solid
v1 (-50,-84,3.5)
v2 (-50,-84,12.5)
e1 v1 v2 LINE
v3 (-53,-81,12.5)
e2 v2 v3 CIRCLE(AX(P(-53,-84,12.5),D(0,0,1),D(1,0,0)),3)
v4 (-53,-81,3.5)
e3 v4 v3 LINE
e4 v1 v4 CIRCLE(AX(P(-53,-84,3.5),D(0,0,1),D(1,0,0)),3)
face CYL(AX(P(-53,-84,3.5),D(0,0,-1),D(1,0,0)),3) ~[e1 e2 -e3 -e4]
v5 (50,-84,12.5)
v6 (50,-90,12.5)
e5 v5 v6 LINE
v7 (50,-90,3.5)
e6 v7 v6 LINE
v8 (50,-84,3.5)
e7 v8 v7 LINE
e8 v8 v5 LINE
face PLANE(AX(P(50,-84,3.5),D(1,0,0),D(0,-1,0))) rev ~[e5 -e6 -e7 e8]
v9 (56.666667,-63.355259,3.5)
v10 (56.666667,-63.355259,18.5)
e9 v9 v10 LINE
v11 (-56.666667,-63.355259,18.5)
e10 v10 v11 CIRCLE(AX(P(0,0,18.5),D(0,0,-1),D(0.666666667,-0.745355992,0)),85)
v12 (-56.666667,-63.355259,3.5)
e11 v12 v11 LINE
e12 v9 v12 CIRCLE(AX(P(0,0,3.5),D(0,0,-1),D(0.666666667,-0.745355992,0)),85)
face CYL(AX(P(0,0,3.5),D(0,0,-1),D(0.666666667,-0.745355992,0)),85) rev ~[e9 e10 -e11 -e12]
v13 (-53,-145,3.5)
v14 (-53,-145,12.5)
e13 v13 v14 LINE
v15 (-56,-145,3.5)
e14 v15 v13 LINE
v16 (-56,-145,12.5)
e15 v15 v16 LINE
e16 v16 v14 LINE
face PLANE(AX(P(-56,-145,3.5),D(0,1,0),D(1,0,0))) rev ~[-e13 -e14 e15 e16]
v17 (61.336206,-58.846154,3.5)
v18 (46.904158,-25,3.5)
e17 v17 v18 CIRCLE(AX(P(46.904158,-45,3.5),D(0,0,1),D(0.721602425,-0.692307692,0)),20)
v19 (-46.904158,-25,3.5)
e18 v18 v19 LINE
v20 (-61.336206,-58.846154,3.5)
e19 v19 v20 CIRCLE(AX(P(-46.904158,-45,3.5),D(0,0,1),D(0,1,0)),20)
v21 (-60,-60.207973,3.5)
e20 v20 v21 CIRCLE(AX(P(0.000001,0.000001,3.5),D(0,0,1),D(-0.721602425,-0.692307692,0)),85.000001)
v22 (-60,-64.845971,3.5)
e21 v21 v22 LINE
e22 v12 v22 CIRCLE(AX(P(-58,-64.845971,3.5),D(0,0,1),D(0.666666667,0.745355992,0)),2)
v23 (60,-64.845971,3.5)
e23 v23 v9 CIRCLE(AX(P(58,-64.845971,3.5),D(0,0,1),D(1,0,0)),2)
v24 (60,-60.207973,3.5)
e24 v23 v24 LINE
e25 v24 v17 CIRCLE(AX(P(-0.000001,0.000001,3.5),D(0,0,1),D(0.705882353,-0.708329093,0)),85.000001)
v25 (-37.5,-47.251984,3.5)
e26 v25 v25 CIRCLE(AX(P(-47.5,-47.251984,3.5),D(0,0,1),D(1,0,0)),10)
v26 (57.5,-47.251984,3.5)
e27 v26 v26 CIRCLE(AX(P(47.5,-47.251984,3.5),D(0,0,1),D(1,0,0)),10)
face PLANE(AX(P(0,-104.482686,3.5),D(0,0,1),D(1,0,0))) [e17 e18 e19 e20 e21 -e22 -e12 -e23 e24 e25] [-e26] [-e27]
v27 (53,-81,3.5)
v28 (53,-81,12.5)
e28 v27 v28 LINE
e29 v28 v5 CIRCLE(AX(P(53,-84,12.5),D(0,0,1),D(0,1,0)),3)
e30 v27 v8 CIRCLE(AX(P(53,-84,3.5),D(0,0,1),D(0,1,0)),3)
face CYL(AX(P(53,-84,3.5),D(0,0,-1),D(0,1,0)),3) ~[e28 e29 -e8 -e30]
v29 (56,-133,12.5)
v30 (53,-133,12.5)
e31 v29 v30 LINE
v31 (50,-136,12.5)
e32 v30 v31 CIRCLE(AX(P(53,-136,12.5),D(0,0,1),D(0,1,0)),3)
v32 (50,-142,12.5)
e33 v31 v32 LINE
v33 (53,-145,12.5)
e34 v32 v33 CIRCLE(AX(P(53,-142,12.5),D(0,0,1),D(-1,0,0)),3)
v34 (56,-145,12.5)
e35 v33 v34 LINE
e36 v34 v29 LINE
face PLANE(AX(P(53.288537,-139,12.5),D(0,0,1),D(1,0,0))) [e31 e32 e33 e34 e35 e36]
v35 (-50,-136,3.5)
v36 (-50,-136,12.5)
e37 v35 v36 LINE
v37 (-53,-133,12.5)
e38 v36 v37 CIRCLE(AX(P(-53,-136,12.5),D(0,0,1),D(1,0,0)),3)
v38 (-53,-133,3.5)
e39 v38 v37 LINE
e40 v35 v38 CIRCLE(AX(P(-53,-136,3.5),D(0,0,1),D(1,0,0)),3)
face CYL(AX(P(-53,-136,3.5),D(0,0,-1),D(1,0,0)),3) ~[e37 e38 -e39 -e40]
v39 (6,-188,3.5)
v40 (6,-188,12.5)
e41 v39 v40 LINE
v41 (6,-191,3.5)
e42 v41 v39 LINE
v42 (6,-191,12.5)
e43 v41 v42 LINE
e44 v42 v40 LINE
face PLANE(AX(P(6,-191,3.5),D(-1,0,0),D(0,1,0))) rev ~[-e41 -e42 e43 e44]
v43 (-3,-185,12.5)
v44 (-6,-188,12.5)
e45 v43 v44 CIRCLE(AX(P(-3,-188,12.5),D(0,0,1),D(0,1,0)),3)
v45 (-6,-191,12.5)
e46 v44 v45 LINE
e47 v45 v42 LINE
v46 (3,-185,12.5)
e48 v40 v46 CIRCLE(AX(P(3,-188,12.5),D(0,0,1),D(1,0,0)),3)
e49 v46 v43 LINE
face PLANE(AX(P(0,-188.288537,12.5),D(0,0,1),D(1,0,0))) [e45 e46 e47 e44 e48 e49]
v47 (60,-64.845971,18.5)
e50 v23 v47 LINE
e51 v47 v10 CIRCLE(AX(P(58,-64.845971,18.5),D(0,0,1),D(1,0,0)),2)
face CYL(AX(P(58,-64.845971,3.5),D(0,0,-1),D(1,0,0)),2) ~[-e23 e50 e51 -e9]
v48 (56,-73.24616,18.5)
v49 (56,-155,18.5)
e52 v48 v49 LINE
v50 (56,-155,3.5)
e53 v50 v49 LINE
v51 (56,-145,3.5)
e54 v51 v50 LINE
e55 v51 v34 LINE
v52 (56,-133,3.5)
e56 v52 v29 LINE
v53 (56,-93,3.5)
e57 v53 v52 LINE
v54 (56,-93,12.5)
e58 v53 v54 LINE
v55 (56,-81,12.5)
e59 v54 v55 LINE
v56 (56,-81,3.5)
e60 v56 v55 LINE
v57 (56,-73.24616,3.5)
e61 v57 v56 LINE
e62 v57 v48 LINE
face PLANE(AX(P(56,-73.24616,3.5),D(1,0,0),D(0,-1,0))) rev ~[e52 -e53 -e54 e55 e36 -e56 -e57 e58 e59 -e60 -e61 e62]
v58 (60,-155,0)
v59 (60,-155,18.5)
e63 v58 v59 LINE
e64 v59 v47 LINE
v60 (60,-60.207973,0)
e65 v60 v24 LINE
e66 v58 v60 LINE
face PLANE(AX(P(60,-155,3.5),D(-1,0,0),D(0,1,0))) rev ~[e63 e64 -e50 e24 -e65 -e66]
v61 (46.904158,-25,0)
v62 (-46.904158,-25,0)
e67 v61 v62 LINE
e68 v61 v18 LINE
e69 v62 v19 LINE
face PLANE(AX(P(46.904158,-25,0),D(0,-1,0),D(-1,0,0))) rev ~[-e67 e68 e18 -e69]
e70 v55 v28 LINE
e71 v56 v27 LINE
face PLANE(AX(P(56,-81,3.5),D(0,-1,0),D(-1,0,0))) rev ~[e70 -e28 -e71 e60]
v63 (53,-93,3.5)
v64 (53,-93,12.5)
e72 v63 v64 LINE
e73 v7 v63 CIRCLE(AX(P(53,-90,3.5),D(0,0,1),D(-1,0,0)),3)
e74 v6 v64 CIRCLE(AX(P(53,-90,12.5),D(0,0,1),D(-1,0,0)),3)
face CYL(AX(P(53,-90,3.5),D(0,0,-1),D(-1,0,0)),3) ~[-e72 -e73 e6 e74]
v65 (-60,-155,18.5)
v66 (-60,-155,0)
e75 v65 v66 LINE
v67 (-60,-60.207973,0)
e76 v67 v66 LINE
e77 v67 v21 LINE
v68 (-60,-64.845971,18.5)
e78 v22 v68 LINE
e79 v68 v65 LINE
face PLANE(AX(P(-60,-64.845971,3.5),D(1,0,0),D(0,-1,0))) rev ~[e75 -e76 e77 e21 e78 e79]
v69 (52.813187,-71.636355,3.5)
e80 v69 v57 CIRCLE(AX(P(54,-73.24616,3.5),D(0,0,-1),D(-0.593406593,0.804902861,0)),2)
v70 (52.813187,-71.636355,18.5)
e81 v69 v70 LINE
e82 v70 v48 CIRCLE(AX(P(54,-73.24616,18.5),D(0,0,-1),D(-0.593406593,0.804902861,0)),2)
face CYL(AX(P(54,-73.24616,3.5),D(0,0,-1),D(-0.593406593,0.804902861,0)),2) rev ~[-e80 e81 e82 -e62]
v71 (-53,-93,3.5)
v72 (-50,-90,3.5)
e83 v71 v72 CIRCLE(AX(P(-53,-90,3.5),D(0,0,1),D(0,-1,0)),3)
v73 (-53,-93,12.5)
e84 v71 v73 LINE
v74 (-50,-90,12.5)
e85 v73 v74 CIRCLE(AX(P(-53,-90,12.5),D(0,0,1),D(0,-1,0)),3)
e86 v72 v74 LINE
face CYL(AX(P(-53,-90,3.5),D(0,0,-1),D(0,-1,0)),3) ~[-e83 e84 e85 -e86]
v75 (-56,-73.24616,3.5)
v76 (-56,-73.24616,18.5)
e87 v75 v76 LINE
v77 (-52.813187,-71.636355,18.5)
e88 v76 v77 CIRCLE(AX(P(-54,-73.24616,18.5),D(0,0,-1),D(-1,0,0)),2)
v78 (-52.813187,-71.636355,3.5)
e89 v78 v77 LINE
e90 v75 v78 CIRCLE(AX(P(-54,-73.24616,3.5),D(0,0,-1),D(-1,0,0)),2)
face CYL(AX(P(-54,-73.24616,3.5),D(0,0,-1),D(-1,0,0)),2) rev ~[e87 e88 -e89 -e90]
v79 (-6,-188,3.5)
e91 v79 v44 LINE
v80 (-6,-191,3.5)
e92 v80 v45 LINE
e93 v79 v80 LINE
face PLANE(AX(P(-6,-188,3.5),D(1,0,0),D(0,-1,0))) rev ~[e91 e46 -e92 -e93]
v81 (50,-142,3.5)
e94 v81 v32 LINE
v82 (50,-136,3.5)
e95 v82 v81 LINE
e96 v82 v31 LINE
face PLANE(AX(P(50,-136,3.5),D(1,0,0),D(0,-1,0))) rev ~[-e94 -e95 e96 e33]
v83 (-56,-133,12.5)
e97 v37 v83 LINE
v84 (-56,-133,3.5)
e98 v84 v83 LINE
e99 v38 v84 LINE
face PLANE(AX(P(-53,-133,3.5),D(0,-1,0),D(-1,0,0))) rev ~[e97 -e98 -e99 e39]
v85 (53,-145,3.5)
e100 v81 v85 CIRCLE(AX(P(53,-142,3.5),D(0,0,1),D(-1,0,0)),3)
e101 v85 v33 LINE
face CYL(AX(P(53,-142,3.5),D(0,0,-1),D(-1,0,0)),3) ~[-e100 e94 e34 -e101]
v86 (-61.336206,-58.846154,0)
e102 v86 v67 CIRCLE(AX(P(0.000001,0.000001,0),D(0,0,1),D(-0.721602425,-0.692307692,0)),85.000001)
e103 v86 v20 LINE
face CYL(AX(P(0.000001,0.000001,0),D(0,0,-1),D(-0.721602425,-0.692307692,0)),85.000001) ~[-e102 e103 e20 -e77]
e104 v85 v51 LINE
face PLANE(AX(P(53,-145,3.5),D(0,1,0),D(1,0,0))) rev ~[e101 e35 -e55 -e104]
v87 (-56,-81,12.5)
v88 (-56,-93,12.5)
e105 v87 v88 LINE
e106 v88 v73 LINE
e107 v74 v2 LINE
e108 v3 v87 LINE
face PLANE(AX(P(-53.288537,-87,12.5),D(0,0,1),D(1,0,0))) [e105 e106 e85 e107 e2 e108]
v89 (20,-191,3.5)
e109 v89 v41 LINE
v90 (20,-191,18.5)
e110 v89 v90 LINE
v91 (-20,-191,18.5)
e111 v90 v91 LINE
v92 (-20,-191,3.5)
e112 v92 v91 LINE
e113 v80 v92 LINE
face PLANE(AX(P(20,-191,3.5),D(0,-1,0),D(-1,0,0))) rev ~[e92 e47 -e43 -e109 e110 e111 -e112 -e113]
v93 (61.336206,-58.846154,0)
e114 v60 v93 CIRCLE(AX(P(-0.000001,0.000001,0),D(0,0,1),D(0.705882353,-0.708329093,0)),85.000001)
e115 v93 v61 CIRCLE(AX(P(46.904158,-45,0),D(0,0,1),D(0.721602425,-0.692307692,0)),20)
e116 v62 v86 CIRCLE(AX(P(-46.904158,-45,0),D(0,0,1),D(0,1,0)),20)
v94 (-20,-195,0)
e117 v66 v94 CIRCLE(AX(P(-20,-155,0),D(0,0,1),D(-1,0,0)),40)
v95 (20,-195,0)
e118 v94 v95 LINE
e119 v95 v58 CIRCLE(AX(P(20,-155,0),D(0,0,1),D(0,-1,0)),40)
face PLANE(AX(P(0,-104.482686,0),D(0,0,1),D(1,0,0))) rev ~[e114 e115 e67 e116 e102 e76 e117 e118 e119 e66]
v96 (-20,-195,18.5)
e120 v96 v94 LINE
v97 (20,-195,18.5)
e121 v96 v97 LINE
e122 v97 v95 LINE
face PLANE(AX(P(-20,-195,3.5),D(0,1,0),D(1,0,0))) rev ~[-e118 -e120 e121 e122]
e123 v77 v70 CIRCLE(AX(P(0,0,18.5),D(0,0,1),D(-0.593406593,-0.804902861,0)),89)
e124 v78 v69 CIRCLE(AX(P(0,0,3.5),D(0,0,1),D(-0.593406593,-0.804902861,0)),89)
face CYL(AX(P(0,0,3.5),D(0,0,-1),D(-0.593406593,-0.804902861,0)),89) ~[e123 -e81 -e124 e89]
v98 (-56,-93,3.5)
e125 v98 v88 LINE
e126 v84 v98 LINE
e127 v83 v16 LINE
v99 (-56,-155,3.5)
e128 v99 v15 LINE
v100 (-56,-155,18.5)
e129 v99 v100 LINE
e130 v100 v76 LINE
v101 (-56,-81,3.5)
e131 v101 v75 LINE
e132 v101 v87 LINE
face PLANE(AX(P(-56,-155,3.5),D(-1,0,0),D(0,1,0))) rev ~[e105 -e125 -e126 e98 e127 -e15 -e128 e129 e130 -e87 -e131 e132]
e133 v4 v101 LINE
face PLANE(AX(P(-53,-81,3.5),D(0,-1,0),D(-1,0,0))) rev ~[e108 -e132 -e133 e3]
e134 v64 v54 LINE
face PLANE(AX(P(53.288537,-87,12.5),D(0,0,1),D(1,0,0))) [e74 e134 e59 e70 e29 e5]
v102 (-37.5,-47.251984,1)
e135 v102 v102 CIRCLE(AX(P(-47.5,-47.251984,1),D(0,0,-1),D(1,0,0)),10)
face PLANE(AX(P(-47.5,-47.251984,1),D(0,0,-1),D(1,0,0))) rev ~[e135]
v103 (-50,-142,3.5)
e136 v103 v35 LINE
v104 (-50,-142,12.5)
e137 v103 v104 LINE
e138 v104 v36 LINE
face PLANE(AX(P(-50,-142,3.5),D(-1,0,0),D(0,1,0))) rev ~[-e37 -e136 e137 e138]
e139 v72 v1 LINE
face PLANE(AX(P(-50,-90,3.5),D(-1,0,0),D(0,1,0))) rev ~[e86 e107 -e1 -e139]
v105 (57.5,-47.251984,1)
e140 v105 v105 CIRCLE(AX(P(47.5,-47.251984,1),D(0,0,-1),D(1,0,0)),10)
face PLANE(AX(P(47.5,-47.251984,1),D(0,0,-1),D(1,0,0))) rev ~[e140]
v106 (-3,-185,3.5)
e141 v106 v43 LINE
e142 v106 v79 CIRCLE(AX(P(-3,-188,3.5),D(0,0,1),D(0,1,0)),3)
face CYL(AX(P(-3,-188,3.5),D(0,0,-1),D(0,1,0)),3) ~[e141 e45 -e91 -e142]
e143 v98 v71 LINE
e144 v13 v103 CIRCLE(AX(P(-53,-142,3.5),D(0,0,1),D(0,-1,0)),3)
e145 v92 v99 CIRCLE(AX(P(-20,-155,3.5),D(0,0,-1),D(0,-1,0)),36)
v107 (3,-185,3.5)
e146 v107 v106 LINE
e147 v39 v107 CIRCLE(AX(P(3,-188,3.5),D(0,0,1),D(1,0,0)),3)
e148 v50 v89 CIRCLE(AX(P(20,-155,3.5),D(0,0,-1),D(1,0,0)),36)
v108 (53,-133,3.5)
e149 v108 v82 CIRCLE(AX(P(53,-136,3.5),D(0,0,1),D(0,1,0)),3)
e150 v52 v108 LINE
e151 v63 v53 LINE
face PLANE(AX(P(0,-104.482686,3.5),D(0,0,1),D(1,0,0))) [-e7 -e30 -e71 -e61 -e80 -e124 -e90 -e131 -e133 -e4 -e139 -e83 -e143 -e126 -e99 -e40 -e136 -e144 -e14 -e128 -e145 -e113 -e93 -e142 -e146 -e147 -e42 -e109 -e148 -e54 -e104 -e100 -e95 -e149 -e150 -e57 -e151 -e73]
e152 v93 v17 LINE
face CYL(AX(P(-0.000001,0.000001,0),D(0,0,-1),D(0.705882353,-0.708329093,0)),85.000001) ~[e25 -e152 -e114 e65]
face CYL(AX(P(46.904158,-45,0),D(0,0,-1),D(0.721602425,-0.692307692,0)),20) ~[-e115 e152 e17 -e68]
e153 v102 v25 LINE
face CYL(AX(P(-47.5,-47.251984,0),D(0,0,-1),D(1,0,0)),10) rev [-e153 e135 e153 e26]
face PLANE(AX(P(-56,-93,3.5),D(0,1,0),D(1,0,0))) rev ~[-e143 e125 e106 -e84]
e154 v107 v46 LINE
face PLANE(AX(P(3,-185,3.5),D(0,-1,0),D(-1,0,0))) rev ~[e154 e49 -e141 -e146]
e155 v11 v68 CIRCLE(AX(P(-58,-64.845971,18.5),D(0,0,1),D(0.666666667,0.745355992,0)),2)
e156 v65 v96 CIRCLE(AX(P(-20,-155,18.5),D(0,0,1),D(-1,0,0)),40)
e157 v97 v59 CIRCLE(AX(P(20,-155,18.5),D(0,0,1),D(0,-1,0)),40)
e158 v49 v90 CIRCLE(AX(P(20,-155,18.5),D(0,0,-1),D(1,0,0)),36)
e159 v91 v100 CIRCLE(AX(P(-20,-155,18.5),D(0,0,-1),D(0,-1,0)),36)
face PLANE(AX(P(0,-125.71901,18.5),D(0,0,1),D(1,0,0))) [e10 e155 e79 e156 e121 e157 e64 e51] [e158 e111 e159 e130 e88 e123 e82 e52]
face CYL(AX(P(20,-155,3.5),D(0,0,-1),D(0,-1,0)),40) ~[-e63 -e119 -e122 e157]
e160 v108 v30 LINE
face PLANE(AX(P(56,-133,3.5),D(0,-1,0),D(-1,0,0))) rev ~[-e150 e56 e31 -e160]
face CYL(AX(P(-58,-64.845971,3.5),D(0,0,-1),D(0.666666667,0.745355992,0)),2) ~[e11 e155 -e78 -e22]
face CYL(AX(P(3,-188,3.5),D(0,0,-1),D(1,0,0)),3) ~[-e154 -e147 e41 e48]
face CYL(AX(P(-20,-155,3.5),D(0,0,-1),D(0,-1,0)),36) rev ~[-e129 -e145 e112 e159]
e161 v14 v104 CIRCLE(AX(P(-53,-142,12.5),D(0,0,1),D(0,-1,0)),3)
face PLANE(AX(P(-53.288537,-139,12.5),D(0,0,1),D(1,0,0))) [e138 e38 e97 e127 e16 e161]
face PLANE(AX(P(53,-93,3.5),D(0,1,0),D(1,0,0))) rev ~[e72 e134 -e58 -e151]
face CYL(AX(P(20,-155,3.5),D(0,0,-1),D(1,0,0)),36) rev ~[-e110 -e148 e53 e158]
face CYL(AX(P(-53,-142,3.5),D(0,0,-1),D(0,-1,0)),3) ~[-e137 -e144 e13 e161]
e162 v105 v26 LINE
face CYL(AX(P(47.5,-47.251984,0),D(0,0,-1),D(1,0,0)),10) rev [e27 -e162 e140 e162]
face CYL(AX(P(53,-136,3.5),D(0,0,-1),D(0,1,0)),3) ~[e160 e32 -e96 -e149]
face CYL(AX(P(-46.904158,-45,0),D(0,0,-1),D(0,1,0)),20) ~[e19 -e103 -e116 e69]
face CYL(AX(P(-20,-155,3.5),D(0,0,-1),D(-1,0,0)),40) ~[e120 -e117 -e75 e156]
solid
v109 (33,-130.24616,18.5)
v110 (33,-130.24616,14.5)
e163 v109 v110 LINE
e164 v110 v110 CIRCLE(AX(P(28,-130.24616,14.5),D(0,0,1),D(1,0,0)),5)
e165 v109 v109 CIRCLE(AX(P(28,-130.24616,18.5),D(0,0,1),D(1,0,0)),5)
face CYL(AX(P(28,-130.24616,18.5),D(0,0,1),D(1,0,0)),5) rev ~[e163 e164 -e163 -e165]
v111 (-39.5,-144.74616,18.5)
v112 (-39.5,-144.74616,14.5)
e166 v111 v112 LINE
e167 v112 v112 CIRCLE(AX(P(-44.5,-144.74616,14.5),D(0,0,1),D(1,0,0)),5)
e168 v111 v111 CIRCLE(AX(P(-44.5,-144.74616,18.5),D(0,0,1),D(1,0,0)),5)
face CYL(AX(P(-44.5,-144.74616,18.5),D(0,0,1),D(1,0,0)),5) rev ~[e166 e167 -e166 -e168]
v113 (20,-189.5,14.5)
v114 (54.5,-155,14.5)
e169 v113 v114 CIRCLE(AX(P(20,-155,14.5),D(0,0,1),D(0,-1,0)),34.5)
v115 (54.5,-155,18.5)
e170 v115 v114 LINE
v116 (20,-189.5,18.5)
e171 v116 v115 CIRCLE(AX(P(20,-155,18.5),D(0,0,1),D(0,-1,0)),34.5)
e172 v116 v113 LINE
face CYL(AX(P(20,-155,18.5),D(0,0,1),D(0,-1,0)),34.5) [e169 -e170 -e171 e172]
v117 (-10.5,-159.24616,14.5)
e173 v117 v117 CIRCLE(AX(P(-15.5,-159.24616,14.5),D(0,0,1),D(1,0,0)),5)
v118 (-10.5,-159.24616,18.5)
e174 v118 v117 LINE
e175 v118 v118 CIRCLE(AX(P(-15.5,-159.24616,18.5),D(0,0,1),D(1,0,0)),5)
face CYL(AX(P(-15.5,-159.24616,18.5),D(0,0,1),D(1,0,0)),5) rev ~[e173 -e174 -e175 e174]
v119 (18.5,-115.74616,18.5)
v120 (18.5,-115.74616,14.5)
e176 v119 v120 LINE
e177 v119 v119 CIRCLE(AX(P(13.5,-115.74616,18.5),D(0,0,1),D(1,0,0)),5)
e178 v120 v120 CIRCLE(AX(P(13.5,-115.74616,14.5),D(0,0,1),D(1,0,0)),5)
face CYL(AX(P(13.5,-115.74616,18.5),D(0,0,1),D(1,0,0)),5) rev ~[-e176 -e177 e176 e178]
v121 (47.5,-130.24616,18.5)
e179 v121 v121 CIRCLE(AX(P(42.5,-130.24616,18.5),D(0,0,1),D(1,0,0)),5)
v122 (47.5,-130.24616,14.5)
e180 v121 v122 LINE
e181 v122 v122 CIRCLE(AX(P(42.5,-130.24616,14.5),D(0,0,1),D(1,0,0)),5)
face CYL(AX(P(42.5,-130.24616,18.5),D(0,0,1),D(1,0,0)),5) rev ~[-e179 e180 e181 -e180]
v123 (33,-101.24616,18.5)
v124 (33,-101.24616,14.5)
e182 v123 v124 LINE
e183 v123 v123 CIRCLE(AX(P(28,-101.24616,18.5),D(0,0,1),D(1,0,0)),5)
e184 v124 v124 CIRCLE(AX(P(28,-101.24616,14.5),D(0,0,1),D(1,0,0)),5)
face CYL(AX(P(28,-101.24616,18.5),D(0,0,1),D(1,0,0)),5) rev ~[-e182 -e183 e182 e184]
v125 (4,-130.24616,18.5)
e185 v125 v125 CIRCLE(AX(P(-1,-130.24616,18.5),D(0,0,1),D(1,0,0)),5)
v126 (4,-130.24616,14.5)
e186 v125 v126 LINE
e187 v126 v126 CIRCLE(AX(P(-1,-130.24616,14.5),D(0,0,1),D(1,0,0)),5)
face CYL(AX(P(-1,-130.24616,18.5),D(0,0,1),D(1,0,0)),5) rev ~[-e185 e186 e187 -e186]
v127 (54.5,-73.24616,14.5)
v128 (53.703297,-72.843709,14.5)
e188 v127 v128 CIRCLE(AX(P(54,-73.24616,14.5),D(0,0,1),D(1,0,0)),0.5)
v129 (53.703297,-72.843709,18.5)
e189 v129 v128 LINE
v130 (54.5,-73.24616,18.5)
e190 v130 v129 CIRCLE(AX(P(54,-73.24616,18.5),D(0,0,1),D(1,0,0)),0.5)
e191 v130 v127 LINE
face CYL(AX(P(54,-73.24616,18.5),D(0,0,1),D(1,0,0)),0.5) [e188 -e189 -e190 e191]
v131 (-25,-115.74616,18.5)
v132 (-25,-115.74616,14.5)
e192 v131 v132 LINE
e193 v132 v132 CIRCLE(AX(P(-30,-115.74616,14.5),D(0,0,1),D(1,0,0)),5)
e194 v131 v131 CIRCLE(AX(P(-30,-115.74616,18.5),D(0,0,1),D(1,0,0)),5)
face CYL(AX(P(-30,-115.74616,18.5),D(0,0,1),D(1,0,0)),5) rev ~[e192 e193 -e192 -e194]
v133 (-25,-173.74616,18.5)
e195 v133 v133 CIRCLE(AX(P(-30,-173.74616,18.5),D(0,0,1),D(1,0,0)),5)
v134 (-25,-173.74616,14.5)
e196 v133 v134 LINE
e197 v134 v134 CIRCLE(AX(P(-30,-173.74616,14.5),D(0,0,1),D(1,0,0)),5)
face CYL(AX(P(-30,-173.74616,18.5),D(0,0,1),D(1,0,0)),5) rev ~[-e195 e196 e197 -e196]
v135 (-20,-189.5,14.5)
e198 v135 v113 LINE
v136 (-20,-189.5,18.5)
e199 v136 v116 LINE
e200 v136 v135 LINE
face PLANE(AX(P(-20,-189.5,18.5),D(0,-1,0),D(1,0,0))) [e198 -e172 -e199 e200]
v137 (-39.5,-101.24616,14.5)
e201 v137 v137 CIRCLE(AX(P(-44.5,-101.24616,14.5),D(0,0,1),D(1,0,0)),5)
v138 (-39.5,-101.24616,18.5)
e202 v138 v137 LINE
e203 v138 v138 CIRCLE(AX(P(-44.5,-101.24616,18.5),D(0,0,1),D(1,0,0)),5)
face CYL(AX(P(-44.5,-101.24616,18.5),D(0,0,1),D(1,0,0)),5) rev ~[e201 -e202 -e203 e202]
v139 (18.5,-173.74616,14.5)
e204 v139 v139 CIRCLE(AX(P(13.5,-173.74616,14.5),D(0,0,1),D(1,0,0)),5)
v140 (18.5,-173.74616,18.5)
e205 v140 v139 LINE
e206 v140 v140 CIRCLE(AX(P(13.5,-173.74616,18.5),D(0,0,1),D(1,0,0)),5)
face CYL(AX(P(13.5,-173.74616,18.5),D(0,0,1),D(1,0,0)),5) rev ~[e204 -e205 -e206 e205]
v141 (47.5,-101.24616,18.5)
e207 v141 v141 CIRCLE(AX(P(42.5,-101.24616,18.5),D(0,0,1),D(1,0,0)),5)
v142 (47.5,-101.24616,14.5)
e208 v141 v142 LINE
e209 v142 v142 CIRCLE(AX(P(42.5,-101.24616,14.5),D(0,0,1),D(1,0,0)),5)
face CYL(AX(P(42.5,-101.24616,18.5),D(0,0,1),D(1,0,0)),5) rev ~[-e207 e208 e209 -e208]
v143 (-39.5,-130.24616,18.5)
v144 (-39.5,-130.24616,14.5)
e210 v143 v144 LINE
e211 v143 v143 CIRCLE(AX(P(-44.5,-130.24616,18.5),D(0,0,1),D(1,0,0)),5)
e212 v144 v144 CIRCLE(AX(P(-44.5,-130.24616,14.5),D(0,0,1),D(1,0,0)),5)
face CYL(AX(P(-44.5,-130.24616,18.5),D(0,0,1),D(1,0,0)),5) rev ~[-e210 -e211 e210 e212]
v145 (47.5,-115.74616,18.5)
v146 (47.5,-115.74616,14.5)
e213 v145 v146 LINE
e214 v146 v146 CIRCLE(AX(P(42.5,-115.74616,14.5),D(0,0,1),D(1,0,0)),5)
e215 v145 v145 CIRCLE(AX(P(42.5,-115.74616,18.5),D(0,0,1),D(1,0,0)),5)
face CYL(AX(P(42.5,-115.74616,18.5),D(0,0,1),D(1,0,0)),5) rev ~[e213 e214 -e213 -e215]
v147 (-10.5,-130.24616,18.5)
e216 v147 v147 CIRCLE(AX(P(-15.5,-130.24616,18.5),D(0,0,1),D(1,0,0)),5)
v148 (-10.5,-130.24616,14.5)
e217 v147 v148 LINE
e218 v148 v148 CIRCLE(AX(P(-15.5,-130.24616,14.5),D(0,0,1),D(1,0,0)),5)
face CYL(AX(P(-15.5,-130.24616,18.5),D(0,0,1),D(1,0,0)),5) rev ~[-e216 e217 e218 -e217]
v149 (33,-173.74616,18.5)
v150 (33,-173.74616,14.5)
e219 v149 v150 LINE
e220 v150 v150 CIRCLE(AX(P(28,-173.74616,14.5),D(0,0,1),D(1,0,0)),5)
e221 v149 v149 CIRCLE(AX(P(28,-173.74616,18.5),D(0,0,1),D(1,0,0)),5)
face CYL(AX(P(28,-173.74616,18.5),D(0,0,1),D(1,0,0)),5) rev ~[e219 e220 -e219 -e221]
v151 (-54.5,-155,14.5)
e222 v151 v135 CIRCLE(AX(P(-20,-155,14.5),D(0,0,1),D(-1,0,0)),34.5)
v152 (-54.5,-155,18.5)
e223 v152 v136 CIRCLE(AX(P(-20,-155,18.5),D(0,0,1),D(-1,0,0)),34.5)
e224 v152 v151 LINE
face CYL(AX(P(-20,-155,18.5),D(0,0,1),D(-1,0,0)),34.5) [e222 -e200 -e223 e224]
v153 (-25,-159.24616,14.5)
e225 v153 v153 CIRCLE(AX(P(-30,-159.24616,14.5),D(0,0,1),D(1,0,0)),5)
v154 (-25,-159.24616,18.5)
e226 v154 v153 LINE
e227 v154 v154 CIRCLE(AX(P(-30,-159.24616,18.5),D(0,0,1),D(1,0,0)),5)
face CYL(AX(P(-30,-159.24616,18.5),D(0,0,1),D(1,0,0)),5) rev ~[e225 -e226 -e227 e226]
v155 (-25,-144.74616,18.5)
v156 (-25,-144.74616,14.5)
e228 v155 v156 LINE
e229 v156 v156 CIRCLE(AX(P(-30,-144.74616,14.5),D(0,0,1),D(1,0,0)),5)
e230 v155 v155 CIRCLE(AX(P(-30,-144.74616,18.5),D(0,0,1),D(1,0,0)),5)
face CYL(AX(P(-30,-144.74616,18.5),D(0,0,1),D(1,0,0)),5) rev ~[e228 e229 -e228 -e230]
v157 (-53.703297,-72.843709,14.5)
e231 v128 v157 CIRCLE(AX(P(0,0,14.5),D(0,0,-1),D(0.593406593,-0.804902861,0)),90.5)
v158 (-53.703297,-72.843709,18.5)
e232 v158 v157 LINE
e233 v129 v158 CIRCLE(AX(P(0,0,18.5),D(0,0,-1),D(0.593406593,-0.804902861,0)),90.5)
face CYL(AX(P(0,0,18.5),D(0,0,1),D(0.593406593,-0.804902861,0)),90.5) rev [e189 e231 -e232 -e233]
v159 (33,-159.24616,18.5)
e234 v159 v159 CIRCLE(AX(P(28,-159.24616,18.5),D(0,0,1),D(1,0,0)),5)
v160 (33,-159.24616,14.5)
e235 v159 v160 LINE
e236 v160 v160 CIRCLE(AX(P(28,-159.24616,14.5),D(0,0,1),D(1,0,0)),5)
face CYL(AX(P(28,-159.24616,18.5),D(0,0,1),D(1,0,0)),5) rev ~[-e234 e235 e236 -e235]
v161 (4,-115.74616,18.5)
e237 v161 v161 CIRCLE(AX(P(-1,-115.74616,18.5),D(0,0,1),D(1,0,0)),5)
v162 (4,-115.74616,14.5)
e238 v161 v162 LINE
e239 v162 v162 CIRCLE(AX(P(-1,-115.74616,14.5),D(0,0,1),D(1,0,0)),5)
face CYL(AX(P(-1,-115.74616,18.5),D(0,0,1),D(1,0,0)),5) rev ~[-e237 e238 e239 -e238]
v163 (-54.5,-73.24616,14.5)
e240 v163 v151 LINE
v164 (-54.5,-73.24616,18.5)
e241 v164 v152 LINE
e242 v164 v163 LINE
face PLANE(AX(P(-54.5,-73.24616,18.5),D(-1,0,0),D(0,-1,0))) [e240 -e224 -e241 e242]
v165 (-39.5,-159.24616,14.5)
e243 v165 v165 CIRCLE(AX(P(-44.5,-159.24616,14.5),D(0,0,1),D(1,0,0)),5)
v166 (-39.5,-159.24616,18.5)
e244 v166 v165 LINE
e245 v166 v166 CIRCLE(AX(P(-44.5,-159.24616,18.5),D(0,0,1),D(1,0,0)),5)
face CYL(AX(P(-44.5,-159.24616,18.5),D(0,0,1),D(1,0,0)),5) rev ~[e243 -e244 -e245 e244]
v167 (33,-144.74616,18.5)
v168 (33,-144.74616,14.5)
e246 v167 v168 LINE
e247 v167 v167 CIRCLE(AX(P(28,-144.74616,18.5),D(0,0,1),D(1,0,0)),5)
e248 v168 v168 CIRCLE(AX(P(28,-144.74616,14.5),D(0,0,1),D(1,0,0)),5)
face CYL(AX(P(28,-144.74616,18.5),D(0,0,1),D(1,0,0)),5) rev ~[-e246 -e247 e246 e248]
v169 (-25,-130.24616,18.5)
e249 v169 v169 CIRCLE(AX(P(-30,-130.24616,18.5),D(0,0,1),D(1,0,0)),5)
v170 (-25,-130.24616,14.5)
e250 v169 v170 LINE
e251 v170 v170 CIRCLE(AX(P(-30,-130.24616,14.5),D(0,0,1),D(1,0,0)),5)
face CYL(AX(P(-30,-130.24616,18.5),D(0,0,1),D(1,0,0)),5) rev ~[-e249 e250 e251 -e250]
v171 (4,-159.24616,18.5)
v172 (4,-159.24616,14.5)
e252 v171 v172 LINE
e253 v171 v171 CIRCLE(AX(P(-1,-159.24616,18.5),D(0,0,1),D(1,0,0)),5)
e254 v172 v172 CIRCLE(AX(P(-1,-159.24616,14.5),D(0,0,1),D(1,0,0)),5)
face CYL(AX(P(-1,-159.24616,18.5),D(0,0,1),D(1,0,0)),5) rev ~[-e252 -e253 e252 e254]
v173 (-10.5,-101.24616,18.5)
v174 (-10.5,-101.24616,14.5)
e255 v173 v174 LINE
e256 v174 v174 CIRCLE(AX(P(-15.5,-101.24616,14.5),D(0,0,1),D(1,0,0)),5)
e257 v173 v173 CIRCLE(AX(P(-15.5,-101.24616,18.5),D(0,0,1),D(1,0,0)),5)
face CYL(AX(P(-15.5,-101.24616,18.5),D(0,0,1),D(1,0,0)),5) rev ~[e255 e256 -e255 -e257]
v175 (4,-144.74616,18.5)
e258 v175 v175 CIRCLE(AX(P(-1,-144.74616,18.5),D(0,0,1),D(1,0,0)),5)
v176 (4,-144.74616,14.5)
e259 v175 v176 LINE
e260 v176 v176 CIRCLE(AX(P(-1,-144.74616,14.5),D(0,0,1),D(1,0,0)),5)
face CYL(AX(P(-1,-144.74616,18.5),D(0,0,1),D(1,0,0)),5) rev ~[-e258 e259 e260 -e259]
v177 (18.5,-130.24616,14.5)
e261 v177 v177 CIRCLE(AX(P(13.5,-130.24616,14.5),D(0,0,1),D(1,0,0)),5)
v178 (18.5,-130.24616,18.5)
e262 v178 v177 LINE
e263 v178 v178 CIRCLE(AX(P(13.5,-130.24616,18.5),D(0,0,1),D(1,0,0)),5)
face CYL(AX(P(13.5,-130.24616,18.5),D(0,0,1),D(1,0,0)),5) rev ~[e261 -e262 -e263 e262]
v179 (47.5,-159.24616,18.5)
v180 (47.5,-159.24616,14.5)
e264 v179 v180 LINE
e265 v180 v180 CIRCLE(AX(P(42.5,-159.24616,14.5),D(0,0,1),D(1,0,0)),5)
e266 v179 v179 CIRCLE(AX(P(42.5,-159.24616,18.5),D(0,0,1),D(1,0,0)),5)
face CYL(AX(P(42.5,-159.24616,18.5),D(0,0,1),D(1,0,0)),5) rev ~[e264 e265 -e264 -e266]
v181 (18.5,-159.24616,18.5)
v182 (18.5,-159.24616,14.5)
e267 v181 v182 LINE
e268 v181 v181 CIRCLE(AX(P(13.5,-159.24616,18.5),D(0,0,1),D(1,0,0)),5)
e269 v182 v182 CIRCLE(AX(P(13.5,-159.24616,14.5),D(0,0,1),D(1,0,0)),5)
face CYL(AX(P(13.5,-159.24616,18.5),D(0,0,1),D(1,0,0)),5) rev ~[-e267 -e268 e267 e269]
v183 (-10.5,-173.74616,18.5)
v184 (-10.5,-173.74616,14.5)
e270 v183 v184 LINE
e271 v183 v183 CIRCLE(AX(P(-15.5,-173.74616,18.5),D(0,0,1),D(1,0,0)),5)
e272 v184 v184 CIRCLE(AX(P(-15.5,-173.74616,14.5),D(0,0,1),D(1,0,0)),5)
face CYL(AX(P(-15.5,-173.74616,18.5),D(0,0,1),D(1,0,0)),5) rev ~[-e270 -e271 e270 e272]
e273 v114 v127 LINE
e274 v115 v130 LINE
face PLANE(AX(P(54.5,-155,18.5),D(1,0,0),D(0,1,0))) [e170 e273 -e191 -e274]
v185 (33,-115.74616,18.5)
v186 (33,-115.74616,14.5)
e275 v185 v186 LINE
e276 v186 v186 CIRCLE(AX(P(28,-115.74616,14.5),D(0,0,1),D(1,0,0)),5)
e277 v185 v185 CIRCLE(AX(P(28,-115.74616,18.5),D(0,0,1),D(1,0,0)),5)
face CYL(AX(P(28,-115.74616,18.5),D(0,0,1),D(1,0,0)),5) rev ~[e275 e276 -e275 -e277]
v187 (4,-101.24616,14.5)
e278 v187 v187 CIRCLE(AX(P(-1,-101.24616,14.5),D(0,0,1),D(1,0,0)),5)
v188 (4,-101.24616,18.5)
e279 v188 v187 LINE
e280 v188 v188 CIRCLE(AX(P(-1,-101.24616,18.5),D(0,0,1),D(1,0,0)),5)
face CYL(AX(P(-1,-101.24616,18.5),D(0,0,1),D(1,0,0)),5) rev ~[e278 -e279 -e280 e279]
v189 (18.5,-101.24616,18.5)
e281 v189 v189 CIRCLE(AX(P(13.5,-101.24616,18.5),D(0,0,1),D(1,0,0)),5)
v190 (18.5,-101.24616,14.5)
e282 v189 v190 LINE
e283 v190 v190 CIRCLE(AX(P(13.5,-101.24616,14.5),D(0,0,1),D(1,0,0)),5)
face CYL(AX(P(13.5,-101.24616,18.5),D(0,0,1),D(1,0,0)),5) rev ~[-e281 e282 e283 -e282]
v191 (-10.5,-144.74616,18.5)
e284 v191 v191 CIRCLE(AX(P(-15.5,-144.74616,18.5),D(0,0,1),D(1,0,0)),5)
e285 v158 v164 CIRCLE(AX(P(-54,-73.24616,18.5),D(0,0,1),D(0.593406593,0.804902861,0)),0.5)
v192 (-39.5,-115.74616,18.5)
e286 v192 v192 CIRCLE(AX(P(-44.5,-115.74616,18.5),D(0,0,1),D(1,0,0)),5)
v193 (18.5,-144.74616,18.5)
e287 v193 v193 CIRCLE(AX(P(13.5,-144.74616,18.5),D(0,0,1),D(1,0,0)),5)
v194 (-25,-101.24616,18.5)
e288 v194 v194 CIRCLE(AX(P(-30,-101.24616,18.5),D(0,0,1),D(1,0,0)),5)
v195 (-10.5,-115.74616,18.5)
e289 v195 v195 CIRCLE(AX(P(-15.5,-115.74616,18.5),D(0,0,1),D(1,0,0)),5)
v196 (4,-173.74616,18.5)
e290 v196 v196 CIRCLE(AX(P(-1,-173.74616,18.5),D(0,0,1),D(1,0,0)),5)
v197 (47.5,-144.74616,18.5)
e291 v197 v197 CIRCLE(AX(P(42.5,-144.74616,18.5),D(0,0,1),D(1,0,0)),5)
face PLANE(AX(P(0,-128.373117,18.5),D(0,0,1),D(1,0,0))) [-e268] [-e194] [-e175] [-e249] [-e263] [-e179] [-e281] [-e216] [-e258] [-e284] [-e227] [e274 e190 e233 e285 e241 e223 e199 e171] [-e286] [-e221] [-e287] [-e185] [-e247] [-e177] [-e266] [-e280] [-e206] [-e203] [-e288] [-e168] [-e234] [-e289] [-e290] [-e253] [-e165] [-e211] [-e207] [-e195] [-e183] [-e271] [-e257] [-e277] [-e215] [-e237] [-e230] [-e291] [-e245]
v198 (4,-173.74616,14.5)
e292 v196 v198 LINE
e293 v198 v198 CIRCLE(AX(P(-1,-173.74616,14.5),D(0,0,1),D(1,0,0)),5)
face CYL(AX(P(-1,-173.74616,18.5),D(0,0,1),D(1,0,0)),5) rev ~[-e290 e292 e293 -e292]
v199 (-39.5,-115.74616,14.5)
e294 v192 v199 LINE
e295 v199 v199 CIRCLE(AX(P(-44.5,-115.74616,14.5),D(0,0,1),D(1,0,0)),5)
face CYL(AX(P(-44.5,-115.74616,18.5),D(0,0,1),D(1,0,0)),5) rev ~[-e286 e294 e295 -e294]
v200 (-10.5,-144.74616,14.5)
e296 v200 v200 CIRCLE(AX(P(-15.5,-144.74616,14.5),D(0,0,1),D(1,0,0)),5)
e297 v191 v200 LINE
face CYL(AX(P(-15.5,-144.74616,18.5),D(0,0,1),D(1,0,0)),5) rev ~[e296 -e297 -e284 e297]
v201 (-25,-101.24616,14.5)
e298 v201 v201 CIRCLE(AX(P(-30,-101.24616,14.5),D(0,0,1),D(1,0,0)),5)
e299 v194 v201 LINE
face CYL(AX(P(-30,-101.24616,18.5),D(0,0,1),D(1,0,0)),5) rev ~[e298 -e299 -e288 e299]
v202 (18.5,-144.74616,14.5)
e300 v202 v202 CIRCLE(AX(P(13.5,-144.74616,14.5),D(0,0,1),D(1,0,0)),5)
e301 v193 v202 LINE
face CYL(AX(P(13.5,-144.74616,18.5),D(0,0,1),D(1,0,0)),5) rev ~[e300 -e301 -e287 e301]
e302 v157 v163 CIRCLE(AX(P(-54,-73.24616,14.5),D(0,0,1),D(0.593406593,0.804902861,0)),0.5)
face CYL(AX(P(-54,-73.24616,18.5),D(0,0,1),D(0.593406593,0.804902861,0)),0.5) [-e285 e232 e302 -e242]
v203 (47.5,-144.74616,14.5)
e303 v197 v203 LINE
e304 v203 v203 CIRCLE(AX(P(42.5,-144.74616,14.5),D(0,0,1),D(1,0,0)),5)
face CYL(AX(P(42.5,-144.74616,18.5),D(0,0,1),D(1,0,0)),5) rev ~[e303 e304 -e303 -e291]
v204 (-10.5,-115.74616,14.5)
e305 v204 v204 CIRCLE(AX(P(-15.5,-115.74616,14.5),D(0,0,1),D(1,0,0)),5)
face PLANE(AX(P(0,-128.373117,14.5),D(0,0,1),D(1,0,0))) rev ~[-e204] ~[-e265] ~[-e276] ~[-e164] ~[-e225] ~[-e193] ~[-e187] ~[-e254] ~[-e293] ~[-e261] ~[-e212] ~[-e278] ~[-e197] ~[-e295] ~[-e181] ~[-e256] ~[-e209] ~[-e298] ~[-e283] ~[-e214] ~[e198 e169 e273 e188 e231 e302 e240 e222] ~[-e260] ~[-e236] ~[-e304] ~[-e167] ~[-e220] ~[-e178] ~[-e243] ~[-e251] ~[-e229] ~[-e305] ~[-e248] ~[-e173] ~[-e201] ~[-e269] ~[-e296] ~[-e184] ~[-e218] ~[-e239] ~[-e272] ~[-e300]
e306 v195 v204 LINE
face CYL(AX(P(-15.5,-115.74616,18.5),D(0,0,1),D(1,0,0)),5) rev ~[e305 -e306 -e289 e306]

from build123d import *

# Parameters (mm, degrees)
F0_R      = 10
F1_DEPTH  = 3.5
F2_R      = 12.5
F3_DEPTH  = 1
F5_DEPTH  = 15
F7_DEPTH  = 9
F9_DEPTH  = 4
F10_R     = 5
F11_DEPTH = 25


with BuildPart() as f1:
    # F0 (on Top) → F1 (new body)
    with BuildSketch(Plane.XY):
        with BuildLine():
            ThreePointArc((-46.9041575982, -25), (-65.3014818184, -37.1553545945), (-61.33620609, -58.8461538462))
            ThreePointArc((-61.33620609, -58.8461538462), (-60.6719240247, -59.5308124851), (-60, -60.207972894))
            Line((-60, -60.207972894), (-60, -155))
            ThreePointArc((-60, -155), (-48.2842712475, -183.2842712475), (-20, -195))
            Line((-20, -195), (20, -195))
            ThreePointArc((20, -195), (48.2842712475, -183.2842712475), (60, -155))
            Line((60, -155), (60, -60.207972894))
            ThreePointArc((60, -60.207972894), (60.6719240247, -59.5308124851), (61.33620609, -58.8461538462))
            ThreePointArc((61.33620609, -58.8461538462), (65.3014818184, -37.1553545945), (46.9041575982, -25))
            Line((46.9041575982, -25), (-46.9041575982, -25))
        make_face()
        with Locations((-47.5, -47.2519840853)):
            Circle(F0_R, mode=Mode.SUBTRACT)
        with Locations((47.5, -47.2519840853)):
            Circle(F0_R, mode=Mode.SUBTRACT)
    extrude(amount=F1_DEPTH)

    # F2 (on face) → F3 (join)
    with BuildSketch(Plane(origin=(0, 0, 0), x_dir=(1, 0, 0), z_dir=(0, 0, -1))):
        with Locations((47.5, 47.2519840853)):
            Circle(F2_R)
        with Locations((-47.5, 47.2519840853)):
            Circle(F2_R)
    extrude(amount=-F3_DEPTH)

    # F4 (on face) → F5 (join)
    with BuildSketch(Plane.XY.offset(3.5)):
        with BuildLine():
            ThreePointArc((20, -195), (48.2842712475, -183.2842712475), (60, -155))
            Line((60, -155), (60, -64.8459713475))
            ThreePointArc((60, -64.8459713475), (58.8164965809, -63.0202294891), (56.6666666667, -63.3552593625))
            ThreePointArc((56.6666666667, -63.3552593625), (0, -85), (-56.6666666667, -63.3552593625))
            ThreePointArc((-56.6666666667, -63.3552593625), (-58.8164965809, -63.0202294891), (-60, -64.8459713475))
            Line((-60, -64.8459713475), (-60, -155))
            ThreePointArc((-60, -155), (-48.2842712475, -183.2842712475), (-20, -195))
            Line((-20, -195), (20, -195))
        make_face()
        with BuildLine():
            Line((-56, -155), (-56, -73.2461603089))
            ThreePointArc((-56, -73.2461603089), (-54.9017687138, -71.4609955583), (-52.8131868132, -71.6363545878))
            ThreePointArc((-52.8131868132, -71.6363545878), (0, -89), (52.8131868132, -71.6363545878))
            ThreePointArc((52.8131868132, -71.6363545878), (54.9017687138, -71.4609955583), (56, -73.2461603089))
            Line((56, -73.2461603089), (56, -155))
            ThreePointArc((56, -155), (45.4558441227, -180.4558441227), (20, -191))
            Line((20, -191), (-20, -191))
            ThreePointArc((-20, -191), (-45.4558441227, -180.4558441227), (-56, -155))
        make_face(mode=Mode.SUBTRACT)
    extrude(amount=F5_DEPTH)

    # F6 (on face) → F7 (join)
    with BuildSketch(Plane.XY.offset(3.5)):
        with BuildLine():
            Line((-53, -81), (-56, -81))
            Line((-56, -81), (-56, -93))
            Line((-56, -93), (-53, -93))
            ThreePointArc((-53, -93), (-50.8786796564, -92.1213203436), (-50, -90))
            Line((-50, -90), (-50, -84))
            ThreePointArc((-50, -84), (-50.8786796564, -81.8786796564), (-53, -81))
        make_face()
        with BuildLine():
            Line((-53, -133), (-56, -133))
            Line((-56, -133), (-56, -145))
            Line((-56, -145), (-53, -145))
            ThreePointArc((-53, -145), (-50.8786796564, -144.1213203436), (-50, -142))
            Line((-50, -142), (-50, -136))
            ThreePointArc((-50, -136), (-50.8786796564, -133.8786796564), (-53, -133))
        make_face()
        with BuildLine():
            Line((-6, -191), (0, -191))
            Line((0, -191), (6, -191))
            Line((6, -191), (6, -188))
            ThreePointArc((6, -188), (5.1213203436, -185.8786796564), (3, -185))
            Line((3, -185), (0, -185))
            Line((0, -185), (-3, -185))
            ThreePointArc((-3, -185), (-5.1213203436, -185.8786796564), (-6, -188))
            Line((-6, -188), (-6, -191))
        make_face()
        with BuildLine():
            ThreePointArc((50, -142), (50.8786796564, -144.1213203436), (53, -145))
            Line((53, -145), (56, -145))
            Line((56, -145), (56, -133))
            Line((56, -133), (53, -133))
            ThreePointArc((53, -133), (50.8786796564, -133.8786796564), (50, -136))
            Line((50, -136), (50, -142))
        make_face()
        with BuildLine():
            ThreePointArc((53, -81), (50.8786796564, -81.8786796564), (50, -84))
            Line((50, -84), (50, -90))
            ThreePointArc((50, -90), (50.8786796564, -92.1213203436), (53, -93))
            Line((53, -93), (56, -93))
            Line((56, -93), (56, -81))
            Line((56, -81), (53, -81))
        make_face()
    extrude(amount=F7_DEPTH)


with BuildPart() as f9:
    # F8 (on face) → F9 (new body)
    with BuildSketch(Plane.XY.offset(18.5)):
        with BuildLine():
            ThreePointArc((53.7032967033, -72.8437088787), (0, -90.5), (-53.7032967033, -72.8437088787))
            ThreePointArc((-53.7032967033, -72.8437088787), (-54.2254421784, -72.7998691213), (-54.5, -73.2461603089))
            Line((-54.5, -73.2461603089), (-54.5, -140.3030615433))
            Line((-54.5, -140.3030615433), (-54.5, -155))
            ThreePointArc((-54.5, -155), (-44.3951839509, -179.3951839509), (-20, -189.5))
            Line((-20, -189.5), (20, -189.5))
            ThreePointArc((20, -189.5), (44.3951839509, -179.3951839509), (54.5, -155))
            Line((54.5, -155), (54.5, -73.2461603089))
            ThreePointArc((54.5, -73.2461603089), (54.2254421784, -72.7998691213), (53.7032967033, -72.8437088787))
        make_face()
    extrude(amount=-F9_DEPTH)

    # F10 (on face) → F11 (cut)
    with BuildSketch(Plane.XY.offset(18.5)):
        with Locations((-44.5, -101.2461603089)):
            Circle(F10_R)
        with Locations((-44.5, -115.7461603089)):
            Circle(F10_R)
        with Locations((-44.5, -130.2461603089)):
            Circle(F10_R)
        with Locations((-44.5, -144.7461603089)):
            Circle(F10_R)
        with Locations((-44.5, -159.2461603089)):
            Circle(F10_R)
        with Locations((-30, -101.2461603089)):
            Circle(F10_R)
        with Locations((-30, -115.7461603089)):
            Circle(F10_R)
        with Locations((-30, -130.2461603089)):
            Circle(F10_R)
        with Locations((-30, -144.7461603089)):
            Circle(F10_R)
        with Locations((-30, -159.2461603089)):
            Circle(F10_R)
        with Locations((-15.5, -101.2461603089)):
            Circle(F10_R)
        with Locations((-15.5, -115.7461603089)):
            Circle(F10_R)
        with Locations((-15.5, -130.2461603089)):
            Circle(F10_R)
        with Locations((-15.5, -144.7461603089)):
            Circle(F10_R)
        with Locations((-15.5, -159.2461603089)):
            Circle(F10_R)
        with Locations((-1, -101.2461603089)):
            Circle(F10_R)
        with Locations((-1, -115.7461603089)):
            Circle(F10_R)
        with Locations((-1, -130.2461603089)):
            Circle(F10_R)
        with Locations((-1, -144.7461603089)):
            Circle(F10_R)
        with Locations((-1, -159.2461603089)):
            Circle(F10_R)
        with Locations((13.5, -101.2461603089)):
            Circle(F10_R)
        with Locations((13.5, -115.7461603089)):
            Circle(F10_R)
        with Locations((13.5, -130.2461603089)):
            Circle(F10_R)
        with Locations((13.5, -144.7461603089)):
            Circle(F10_R)
        with Locations((13.5, -159.2461603089)):
            Circle(F10_R)
        with Locations((28, -101.2461603089)):
            Circle(F10_R)
        with Locations((28, -115.7461603089)):
            Circle(F10_R)
        with Locations((28, -130.2461603089)):
            Circle(F10_R)
        with Locations((28, -144.7461603089)):
            Circle(F10_R)
        with Locations((28, -159.2461603089)):
            Circle(F10_R)
        with Locations((42.5, -101.2461603089)):
            Circle(F10_R)
        with Locations((42.5, -115.7461603089)):
            Circle(F10_R)
        with Locations((42.5, -130.2461603089)):
            Circle(F10_R)
        with Locations((42.5, -144.7461603089)):
            Circle(F10_R)
        with Locations((42.5, -159.2461603089)):
            Circle(F10_R)
        with Locations((-30, -173.7461603089)):
            Circle(F10_R)
        with Locations((-15.5, -173.7461603089)):
            Circle(F10_R)
        with Locations((-1, -173.7461603089)):
            Circle(F10_R)
        with Locations((13.5, -173.7461603089)):
            Circle(F10_R)
        with Locations((28, -173.7461603089)):
            Circle(F10_R)
    extrude(amount=-F11_DEPTH, mode=Mode.SUBTRACT)


solid = Compound([f1.part, f9.part])
